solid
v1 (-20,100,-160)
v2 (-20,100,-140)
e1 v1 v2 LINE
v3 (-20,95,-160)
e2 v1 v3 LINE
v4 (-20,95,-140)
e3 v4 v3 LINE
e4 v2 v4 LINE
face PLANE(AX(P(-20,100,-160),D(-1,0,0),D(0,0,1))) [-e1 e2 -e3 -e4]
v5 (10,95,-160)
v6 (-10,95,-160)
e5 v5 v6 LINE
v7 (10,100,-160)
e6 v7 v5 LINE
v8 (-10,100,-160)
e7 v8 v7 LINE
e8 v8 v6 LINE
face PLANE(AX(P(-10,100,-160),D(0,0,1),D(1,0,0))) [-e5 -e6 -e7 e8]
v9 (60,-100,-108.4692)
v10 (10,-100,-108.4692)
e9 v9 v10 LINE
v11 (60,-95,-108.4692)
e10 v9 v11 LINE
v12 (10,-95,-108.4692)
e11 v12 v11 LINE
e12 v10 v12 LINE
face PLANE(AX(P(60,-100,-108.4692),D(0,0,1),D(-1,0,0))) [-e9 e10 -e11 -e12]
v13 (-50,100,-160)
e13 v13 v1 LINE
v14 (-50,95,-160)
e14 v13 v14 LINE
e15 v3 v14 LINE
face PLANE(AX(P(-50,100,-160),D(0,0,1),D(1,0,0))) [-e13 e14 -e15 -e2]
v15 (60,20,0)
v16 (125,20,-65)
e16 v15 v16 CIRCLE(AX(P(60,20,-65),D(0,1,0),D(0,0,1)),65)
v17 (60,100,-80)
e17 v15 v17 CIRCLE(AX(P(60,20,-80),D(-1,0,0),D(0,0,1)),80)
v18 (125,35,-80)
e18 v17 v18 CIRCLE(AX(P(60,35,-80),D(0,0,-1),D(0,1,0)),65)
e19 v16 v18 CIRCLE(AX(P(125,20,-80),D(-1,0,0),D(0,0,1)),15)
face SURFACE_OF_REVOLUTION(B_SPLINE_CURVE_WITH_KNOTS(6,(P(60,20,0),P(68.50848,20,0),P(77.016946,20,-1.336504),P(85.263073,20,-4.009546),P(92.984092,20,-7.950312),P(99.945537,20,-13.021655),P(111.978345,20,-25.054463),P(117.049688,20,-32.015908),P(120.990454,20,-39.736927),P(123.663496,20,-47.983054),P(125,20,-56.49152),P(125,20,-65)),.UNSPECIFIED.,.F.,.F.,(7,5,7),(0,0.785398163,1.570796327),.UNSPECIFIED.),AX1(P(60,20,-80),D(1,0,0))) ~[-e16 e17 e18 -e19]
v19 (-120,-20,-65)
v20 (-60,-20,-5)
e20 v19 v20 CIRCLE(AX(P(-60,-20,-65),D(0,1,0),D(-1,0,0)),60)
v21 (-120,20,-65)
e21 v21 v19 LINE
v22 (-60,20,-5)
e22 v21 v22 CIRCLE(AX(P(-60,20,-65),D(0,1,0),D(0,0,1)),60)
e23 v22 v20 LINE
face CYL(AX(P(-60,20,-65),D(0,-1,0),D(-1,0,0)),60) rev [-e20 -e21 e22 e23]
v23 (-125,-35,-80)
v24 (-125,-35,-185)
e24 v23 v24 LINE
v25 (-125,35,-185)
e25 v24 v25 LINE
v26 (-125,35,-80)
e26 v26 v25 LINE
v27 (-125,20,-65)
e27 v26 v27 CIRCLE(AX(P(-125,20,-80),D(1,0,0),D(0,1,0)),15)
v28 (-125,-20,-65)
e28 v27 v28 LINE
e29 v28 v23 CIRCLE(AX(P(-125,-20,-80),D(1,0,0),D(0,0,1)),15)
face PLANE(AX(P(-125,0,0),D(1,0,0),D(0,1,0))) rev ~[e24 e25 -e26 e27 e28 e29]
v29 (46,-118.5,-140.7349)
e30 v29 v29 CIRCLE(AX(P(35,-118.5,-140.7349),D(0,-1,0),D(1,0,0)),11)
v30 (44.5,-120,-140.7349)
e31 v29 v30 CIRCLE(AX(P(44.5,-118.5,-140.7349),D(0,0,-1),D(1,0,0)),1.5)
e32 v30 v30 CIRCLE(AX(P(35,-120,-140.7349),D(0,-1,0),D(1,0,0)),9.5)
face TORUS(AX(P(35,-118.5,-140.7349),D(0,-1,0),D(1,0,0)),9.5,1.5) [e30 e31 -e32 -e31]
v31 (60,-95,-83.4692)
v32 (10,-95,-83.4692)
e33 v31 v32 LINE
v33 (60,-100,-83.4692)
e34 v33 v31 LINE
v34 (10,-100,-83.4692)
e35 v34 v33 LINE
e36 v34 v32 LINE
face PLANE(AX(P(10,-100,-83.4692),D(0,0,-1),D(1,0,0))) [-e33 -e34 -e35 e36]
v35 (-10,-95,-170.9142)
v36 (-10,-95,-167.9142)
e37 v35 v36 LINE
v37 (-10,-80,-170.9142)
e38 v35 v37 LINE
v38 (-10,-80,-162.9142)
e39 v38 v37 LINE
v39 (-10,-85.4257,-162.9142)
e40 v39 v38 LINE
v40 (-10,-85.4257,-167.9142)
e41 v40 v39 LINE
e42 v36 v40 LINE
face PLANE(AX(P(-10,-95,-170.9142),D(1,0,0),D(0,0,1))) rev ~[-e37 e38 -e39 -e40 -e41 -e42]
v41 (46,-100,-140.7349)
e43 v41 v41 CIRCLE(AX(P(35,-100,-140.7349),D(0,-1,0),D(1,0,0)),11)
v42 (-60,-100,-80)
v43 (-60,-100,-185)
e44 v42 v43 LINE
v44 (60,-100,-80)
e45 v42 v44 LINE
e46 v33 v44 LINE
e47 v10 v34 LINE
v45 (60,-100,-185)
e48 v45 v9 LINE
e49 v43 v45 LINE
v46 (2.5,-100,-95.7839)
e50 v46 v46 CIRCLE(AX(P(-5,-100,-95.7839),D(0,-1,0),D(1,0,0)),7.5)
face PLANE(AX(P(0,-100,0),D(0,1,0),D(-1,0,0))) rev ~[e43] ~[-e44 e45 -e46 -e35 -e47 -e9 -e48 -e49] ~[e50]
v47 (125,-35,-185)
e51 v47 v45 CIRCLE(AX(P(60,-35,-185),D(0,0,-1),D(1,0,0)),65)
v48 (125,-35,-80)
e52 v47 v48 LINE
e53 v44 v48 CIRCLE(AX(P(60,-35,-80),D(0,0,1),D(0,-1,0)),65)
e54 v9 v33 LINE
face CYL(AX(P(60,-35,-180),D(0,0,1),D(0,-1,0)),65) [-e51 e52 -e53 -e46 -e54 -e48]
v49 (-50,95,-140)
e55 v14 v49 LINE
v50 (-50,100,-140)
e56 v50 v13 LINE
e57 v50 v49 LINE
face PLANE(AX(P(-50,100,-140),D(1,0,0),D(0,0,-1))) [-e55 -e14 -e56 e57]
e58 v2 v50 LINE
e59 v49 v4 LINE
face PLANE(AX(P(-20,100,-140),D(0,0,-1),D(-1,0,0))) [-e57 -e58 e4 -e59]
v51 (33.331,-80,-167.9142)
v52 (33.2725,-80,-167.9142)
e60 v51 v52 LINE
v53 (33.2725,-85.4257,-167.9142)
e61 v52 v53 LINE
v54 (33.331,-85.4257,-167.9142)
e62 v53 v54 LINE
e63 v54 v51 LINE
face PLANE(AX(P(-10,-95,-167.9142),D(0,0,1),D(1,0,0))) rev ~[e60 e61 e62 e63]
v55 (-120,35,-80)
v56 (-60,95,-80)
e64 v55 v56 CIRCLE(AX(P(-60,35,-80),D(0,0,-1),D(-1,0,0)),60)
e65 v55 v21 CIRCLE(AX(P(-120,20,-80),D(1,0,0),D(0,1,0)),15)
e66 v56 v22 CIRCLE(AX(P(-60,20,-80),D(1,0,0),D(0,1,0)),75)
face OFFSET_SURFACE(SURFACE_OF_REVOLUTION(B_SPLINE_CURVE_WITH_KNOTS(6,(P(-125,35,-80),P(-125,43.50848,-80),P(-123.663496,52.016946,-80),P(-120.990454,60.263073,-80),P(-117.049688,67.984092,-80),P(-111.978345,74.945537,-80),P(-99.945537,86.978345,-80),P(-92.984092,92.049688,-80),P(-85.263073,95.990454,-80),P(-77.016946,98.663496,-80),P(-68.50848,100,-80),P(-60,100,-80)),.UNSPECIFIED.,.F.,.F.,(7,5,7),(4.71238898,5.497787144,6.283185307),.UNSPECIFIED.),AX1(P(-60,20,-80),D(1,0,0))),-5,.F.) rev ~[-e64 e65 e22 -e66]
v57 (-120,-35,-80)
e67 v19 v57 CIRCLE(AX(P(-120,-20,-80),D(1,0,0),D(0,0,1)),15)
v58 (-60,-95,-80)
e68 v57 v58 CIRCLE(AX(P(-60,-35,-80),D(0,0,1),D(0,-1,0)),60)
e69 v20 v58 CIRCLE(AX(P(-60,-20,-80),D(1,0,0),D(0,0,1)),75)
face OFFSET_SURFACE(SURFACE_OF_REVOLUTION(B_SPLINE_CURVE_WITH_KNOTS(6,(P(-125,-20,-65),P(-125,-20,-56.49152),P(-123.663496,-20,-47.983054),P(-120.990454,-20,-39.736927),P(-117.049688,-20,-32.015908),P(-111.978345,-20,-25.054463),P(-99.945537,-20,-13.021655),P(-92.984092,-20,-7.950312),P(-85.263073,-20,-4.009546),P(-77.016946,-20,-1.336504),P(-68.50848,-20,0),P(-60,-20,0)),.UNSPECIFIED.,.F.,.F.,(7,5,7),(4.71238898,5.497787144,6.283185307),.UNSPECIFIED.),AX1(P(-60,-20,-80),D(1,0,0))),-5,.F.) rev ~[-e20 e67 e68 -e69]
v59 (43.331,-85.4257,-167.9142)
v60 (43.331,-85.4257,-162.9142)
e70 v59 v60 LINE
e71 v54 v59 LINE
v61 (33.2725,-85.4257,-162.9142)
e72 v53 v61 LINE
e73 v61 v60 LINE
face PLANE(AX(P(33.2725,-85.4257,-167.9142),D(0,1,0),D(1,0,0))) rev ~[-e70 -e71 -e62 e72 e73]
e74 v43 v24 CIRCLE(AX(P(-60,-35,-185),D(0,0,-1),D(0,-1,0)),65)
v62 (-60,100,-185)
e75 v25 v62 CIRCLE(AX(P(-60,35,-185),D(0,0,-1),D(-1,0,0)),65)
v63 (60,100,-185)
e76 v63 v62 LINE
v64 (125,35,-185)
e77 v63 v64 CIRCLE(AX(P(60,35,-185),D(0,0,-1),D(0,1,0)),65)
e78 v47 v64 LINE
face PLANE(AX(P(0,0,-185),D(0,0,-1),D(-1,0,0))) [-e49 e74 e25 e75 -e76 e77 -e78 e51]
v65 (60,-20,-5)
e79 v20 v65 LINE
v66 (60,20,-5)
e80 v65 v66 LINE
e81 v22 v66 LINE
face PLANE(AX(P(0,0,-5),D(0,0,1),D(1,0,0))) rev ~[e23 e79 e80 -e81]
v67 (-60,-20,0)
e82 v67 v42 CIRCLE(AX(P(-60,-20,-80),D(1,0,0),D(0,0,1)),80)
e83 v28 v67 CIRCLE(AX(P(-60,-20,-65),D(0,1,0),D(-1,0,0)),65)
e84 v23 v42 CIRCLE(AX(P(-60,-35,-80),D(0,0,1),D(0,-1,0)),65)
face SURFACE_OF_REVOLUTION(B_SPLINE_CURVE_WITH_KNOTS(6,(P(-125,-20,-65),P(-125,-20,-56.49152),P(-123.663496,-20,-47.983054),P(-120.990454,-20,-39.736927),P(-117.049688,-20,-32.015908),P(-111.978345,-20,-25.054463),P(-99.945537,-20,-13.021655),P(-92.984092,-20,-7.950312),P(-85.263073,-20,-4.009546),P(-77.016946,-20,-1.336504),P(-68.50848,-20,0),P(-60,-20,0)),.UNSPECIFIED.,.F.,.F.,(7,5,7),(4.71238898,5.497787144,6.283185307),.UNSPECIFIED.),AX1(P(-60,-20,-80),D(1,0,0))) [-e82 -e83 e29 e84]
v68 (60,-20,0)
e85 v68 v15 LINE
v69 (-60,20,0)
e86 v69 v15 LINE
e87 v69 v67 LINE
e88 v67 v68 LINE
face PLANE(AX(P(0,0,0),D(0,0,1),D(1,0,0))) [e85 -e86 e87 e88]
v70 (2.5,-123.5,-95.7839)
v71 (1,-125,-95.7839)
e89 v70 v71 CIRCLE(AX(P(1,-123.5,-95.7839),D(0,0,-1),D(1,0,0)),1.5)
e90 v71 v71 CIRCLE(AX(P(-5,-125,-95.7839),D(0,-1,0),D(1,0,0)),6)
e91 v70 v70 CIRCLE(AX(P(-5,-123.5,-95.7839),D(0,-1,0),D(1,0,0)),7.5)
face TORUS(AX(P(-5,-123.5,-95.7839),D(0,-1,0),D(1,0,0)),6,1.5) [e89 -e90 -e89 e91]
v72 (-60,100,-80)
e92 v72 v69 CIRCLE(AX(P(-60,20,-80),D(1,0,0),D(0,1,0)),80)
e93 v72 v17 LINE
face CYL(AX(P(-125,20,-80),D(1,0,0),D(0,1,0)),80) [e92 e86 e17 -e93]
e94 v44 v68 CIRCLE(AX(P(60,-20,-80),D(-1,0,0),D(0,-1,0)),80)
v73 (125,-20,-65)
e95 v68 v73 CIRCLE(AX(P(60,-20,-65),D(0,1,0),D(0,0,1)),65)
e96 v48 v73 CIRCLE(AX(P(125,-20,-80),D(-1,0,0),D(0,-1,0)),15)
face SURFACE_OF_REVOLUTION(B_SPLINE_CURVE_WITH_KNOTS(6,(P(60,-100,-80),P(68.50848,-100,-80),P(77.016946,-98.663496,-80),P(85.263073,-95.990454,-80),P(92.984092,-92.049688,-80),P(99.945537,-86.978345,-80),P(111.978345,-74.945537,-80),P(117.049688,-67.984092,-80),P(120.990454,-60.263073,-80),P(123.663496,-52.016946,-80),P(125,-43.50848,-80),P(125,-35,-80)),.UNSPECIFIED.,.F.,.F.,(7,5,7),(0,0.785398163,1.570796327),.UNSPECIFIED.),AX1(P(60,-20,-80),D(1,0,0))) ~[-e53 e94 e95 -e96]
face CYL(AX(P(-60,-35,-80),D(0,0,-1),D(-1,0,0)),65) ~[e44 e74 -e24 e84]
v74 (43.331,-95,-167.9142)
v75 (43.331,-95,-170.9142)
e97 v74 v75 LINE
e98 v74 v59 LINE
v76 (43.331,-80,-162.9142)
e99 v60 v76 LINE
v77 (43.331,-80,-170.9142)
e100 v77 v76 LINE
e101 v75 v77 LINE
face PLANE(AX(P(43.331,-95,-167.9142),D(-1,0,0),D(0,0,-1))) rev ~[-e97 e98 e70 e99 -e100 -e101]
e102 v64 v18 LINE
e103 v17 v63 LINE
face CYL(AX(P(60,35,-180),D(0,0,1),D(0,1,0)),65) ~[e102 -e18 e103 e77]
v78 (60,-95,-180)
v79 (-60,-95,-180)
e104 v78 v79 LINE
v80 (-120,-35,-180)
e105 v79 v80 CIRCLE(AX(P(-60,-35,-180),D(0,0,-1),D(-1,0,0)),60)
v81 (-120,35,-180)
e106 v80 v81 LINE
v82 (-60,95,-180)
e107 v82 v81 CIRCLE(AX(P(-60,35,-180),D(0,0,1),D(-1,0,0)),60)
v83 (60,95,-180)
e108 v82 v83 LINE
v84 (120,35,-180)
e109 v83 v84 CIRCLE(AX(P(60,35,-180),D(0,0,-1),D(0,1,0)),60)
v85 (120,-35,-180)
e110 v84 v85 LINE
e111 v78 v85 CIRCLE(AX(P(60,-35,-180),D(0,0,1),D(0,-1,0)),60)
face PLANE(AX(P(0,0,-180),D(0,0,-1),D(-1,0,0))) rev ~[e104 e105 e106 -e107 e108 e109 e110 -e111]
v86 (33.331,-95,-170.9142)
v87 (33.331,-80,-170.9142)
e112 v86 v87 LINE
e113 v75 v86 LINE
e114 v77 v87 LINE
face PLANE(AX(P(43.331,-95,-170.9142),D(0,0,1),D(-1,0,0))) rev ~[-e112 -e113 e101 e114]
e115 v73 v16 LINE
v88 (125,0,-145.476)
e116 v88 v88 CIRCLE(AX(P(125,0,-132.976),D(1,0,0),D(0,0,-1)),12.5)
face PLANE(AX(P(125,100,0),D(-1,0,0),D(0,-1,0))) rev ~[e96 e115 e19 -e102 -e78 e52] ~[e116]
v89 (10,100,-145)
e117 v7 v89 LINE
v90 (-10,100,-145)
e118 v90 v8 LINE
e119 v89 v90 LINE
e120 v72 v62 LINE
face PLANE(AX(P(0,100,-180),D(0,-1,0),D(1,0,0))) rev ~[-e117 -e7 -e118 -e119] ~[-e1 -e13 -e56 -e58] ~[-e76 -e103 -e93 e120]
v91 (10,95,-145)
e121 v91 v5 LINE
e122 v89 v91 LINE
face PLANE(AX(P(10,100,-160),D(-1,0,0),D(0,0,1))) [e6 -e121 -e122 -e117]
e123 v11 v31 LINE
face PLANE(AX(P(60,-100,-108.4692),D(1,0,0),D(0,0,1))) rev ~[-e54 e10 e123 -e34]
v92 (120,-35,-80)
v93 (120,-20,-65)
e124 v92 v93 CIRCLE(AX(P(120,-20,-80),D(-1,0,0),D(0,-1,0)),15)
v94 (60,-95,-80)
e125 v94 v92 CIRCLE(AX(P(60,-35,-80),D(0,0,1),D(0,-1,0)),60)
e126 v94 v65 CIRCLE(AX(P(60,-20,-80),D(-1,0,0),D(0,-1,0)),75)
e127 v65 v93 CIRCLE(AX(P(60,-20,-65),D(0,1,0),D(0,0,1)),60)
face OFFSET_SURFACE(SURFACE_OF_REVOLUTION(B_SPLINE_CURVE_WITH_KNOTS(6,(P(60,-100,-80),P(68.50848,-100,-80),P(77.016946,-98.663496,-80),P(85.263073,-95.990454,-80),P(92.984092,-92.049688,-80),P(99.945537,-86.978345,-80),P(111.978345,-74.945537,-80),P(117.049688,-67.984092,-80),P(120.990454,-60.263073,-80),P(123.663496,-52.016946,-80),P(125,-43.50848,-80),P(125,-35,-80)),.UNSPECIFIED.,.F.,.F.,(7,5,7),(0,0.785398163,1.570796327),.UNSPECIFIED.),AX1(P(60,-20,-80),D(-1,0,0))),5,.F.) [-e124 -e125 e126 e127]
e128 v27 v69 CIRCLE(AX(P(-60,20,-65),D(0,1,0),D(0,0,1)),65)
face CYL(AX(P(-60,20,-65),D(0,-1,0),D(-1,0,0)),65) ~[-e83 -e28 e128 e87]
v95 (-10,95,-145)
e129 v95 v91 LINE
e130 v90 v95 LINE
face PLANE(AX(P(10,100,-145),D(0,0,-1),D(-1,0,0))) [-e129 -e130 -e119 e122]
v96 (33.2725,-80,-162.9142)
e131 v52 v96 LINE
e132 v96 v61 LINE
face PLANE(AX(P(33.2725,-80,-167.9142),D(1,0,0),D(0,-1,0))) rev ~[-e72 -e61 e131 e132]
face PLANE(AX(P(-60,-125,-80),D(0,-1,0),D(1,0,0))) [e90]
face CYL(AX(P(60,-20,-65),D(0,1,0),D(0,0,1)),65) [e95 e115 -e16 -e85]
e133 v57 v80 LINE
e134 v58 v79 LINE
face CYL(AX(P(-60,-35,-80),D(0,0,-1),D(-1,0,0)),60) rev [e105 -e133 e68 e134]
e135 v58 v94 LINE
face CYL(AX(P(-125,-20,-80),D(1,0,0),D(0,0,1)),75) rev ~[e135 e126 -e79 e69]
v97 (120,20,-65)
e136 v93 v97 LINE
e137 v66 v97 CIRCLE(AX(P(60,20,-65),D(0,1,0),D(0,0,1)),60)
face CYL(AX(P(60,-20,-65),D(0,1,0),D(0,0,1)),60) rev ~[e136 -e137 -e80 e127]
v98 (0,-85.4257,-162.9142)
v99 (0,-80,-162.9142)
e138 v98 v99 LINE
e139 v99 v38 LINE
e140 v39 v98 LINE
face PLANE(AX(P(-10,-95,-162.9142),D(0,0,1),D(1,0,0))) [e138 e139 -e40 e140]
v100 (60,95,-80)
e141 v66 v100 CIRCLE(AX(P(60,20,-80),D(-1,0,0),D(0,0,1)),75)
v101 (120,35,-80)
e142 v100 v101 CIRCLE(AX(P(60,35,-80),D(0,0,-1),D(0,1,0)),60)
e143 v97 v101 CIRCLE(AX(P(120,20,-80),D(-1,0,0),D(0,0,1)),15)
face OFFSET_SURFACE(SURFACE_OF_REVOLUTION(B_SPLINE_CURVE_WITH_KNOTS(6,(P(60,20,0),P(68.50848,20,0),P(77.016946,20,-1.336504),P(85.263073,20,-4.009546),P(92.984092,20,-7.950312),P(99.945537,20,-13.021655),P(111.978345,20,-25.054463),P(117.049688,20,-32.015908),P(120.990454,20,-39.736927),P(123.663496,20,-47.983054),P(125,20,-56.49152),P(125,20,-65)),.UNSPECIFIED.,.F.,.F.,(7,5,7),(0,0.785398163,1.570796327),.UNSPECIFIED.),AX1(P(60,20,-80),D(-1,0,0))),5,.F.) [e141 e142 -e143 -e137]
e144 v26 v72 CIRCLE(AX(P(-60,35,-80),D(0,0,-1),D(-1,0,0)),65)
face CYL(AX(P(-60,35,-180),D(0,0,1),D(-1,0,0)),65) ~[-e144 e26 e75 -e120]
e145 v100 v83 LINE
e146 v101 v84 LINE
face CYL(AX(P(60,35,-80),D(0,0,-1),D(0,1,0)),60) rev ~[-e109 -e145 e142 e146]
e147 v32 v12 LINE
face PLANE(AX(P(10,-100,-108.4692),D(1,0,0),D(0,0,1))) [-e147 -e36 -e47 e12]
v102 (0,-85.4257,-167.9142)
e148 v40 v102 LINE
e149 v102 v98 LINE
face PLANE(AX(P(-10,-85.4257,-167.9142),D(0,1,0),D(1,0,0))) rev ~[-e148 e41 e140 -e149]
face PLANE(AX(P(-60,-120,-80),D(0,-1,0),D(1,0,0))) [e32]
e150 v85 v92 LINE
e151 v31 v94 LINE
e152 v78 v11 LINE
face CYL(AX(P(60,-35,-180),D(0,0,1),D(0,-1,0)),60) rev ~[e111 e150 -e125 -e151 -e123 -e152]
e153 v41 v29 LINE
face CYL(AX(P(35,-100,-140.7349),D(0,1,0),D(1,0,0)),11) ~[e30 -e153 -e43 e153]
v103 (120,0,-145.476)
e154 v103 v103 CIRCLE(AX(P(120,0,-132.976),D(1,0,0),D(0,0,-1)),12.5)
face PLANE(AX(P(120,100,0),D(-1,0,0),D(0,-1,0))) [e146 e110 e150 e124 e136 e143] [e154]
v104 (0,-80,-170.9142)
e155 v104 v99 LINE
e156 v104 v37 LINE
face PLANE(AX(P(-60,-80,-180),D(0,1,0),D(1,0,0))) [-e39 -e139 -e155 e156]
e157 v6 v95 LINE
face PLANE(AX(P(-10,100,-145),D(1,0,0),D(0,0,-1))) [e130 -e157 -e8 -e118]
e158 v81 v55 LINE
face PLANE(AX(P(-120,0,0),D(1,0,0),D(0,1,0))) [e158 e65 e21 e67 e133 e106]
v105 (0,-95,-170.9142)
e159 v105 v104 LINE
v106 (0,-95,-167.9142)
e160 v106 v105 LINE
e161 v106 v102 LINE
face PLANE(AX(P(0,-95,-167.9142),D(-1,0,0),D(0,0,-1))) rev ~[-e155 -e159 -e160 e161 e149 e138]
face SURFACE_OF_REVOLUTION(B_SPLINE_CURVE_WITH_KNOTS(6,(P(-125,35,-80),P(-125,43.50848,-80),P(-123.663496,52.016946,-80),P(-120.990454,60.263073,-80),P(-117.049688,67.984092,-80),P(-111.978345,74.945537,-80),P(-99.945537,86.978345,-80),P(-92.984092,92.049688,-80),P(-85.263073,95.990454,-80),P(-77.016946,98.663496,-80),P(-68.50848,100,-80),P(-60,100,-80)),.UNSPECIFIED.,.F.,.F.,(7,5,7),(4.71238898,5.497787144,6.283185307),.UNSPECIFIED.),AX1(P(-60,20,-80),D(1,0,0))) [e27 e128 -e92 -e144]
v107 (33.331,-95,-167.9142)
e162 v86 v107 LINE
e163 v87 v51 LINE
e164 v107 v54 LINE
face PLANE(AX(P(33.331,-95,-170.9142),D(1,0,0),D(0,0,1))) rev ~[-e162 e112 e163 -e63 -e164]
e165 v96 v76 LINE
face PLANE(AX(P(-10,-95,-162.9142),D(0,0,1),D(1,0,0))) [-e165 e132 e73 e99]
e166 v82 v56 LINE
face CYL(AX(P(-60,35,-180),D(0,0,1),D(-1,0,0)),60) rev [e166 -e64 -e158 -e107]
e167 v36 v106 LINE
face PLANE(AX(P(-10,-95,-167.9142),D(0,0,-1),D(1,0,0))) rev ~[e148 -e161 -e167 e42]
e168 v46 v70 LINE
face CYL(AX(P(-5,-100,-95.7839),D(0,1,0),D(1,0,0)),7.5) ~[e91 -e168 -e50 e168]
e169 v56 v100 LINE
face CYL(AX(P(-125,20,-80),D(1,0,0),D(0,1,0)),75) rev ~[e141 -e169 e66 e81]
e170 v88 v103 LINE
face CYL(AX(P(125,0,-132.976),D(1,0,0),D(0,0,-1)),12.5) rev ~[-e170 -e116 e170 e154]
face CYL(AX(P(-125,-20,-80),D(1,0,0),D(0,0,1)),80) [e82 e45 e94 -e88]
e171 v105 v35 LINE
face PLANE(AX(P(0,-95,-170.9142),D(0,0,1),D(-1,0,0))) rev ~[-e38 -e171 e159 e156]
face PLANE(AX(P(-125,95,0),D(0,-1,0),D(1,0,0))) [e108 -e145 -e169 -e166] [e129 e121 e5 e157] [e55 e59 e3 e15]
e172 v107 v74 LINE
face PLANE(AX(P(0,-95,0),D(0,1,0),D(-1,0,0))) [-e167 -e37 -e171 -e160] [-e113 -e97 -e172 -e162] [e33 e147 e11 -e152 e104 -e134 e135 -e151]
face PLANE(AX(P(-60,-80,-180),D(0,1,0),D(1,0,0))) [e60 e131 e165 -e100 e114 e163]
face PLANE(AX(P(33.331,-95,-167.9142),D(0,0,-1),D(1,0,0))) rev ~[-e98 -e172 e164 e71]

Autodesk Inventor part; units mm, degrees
ref_plane "YZ Plane" through (0, 0, 0) normal (1, 0, 0) x (0, 1, 0)
ref_plane "XZ Plane" through (0, 0, 0) normal (0, 1, 0) x (-1, 0, 0)
ref_plane "XY Plane" through (0, 0, 0) normal (0, 0, 1) x (1, 0, 0)
sketch "Sketch1" plane through (0, 0, 0) normal (0, 0, 1) x (1, 0, 0)
  line L0 (-175, 0) -> (175, 0) projected
  line L1 (0, -140) -> (0, 140) projected
  line L2 (-125, 100) -> (125, 100)
  line L3 (125, 100) -> (125, -100)
  line L4 (125, -100) -> (-125, -100)
  line L5 (-125, -100) -> (-125, 100)
  point P0 (0, 0)
  dimension "d0" = 200
  dimension "d1" = 250
extrude "Extrusion1" add sketch "Sketch1" against normal blind 180
fillet "Fillet5" radius 80 2 edges at (0, -100, 0) (0, 100, 0)
fillet "Fillet6" radius 65 10 edges at (125, 0, 0) (125, 76.5685, -23.4315) (125, 100, -130) (125, -100, -130) (125, -76.5685, -23.4315) (-125, -100, -130) (-125, 0, 0) (-125, 76.5685, -23.4315) (-125, 100, -130) (-125, -76.5685, -23.4315)
shell "Shell1" thickness 5 removed faces 1 at (20, -33.3333, -180)
sketch "Sketch5" plane through (-60, -100, -180) normal (0, -1, 0) x (1, 0, 0)
  line L0 (120, 0) -> (120, 100) projected
  line L1 (70, 96.5308) -> (120, 96.5308)
  line L2 (120, 96.5308) -> (120, 71.5308)
  line L3 (120, 71.5308) -> (70, 71.5308)
  line L4 (70, 71.5308) -> (70, 96.5308)
  point P0 (60, 180)
  dimension "d15" = 25
  dimension "d16" = 50
extrude "Extrusion3" cut sketch "Sketch5" against normal blind 24
sketch "Sketch6" plane through (-60, -100, -80) normal (0, -1, 0) x (1, 0, 0)
  circle A0 centre (55, -15.7839) radius 7.5
  line L0 (70, -28.4692) -> (70, -3.4692) projected
  point P0 (60, 80)
  point P1 (70, -15.9692)
  dimension "d19" = 15
  dimension "d20" = 15
extrude "Extrusion4" add sketch "Sketch6" along normal blind 25
sketch "Sketch7" plane through (-60, -100, -80) normal (0, -1, 0) x (1, 0, 0)
  circle A0 centre (95, -60.7349) radius 11
  line L0 (120, -28.4692) -> (120, -100) projected
  point P0 (60, 80)
  dimension "d23" = 25
  dimension "d24" = 22
extrude "Extrusion5" add sketch "Sketch7" along normal blind 20
fillet "Fillet7" radius 1.5 1 edges at (-12.5, -125, -95.7839)
fillet "Fillet8" radius 1.5 1 edges at (24, -120, -140.7349)
sketch "Sketch8" plane through (-60, -95, -180) normal (0, 1, 0) x (1, 0, 0)
  line L0 (120, -96.5308) -> (70, -96.5308) projected
  line L1 (70, -96.5308) -> (70, -71.5308) projected
  line L2 (70, -71.5308) -> (120, -71.5308) projected
  line L3 (120, -71.5308) -> (120, 0) projected
  line L4 (0, 0) -> (120, 0) projected
  line L5 (0, 0) -> (0, -100) projected
  line L6 (0, -100) -> (120, -100) projected
  line L7 (120, -100) -> (120, -96.5308) projected
  line L8 (103.331, -9.0858) -> (93.331, -9.0858)
  line L9 (93.331, -9.0858) -> (93.331, -12.0858)
  line L10 (93.331, -12.0858) -> (103.331, -12.0858)
  line L11 (103.331, -12.0858) -> (103.331, -9.0858)
  line L12 (60, -9.0858) -> (50, -9.0858)
  line L13 (50, -9.0858) -> (50, -12.0858)
  line L14 (50, -12.0858) -> (60, -12.0858)
  line L15 (60, -12.0858) -> (60, -9.0858)
  point P0 (60, -180)
  dimension "d29" = 10
  dimension "d30" = 3
  dimension "d31" = 10
extrude "Extrusion6" add sketch "Sketch8" along normal blind 15 contours L11 L10 L9 L8 | L15 L14 L13 L12
sketch "Sketch9" plane through (-10, -95, -167.9142) normal (0, 0, 1) x (1, 0, 0)
  line L0 (0, 0) -> (0, 15) projected
  line L1 (10, 0) -> (10, 15) projected
  line L2 (0, 9.5743) -> (10, 9.5743)
  line L3 (10, 9.5743) -> (10, 15)
  line L4 (10, 15) -> (0, 15)
  line L5 (0, 15) -> (0, 9.5743)
  line L6 (53.331, 15) -> (43.331, 15) projected
  line L7 (43.2725, 9.5743) -> (53.331, 9.5743)
  line L8 (53.331, 9.5743) -> (53.331, 15)
  line L9 (53.331, 15) -> (43.2725, 15)
  line L10 (43.2725, 15) -> (43.2725, 9.5743)
  point P0 (10, 95)
extrude "Extrusion7" add sketch "Sketch9" along normal blind 5
sketch "Sketch10" plane through (125, -35, -180) normal (1, 0, 0) x (0, 0, -1)
  line L0 (0, 0) -> (-100, 0) projected
  line L1 (0, 70) -> (0, 0) projected
  line L2 (-100, 70) -> (0, 70) projected
  arc A0 (-100, 70) -> (-115, 55) centre (-100, 55) ccw projected
  line L3 (-115, 15) -> (-115, 55) projected
  arc A1 (-115, 15) -> (-100, 0) centre (-100, 15) ccw projected
  circle A2 centre (-47.024, 35) radius 12.5
  point P0 (-180, 35)
  dimension "d36" = 25
extrude "Extrusion8" cut sketch "Sketch10" against normal blind 25 contours A2
sketch "Sketch11" plane through (-60, 100, -80) normal (0, 1, 0) x (1, 0, 0)
  line L0 (40, 60) -> (10, 60)
  line L1 (10, 60) -> (10, 80)
  line L2 (10, 80) -> (40, 80)
  line L3 (40, 80) -> (40, 60)
  line L4 (0, 0) -> (0, 100) projected
  line L5 (0, 100) -> (120, 100) projected
  point P0 (60, -80)
  point P1 (10, 70)
  dimension "d41" = 30
  dimension "d42" = 20
  dimension "d43" = 10
  dimension "d44" = 20
extrude "Extrusion9" cut sketch "Sketch11" against normal blind 10
sketch "Sketch12" plane through (-60, 100, -80) normal (0, 1, 0) x (1, 0, 0)
  line L0 (70, 65) -> (50, 65)
  line L1 (50, 65) -> (50, 80)
  line L2 (50, 80) -> (70, 80)
  line L3 (70, 80) -> (70, 65)
  line L4 (40, 80) -> (40, 60) projected
  line L5 (0, 100) -> (120, 100) projected
  point P0 (60, -80)
  dimension "d47" = 10
  dimension "d48" = 20
  dimension "d49" = 15
  dimension "d50" = 20
extrude "Extrusion10" cut sketch "Sketch12" against normal blind 10
sketch "Sketch13" plane through (0, 0, -180) normal (0, 0, -1) x (-1, 0, 0)
  arc A0 (-60, 95) -> (-120, 35) centre (-60, 35) ccw projected
  line L0 (-60, 95) -> (60, 95) projected
  arc A1 (120, 35) -> (60, 95) centre (60, 35) ccw projected
  line L1 (120, 35) -> (120, -35) projected
  arc A2 (60, -95) -> (120, -35) centre (60, -35) ccw projected
  line L2 (60, -95) -> (-60, -95) projected
  arc A3 (-120, -35) -> (-60, -95) centre (-60, -35) ccw projected
  line L3 (-120, -35) -> (-120, 35) projected
  arc A4 (125, 35) -> (60, 100) centre (60, 35) ccw projected
  line L4 (60, 100) -> (-60, 100) projected
  arc A5 (-60, 100) -> (-125, 35) centre (-60, 35) ccw projected
  line L5 (-125, 35) -> (-125, -35) projected
  arc A6 (-125, -35) -> (-60, -100) centre (-60, -35) ccw projected
  line L6 (-60, -100) -> (60, -100) projected
  arc A7 (60, -100) -> (125, -35) centre (60, -35) ccw projected
  line L7 (125, -35) -> (125, 35) projected
  line L8 (193.8467, 0) -> (-193.8467, 0) projected
  line L9 (0, -172.6924) -> (0, 161.1543) projected
  point P0 (0, 0)
extrude "Extrusion11" add sketch "Sketch13" along normal blind 5
properties part number "Protosaber Case"
